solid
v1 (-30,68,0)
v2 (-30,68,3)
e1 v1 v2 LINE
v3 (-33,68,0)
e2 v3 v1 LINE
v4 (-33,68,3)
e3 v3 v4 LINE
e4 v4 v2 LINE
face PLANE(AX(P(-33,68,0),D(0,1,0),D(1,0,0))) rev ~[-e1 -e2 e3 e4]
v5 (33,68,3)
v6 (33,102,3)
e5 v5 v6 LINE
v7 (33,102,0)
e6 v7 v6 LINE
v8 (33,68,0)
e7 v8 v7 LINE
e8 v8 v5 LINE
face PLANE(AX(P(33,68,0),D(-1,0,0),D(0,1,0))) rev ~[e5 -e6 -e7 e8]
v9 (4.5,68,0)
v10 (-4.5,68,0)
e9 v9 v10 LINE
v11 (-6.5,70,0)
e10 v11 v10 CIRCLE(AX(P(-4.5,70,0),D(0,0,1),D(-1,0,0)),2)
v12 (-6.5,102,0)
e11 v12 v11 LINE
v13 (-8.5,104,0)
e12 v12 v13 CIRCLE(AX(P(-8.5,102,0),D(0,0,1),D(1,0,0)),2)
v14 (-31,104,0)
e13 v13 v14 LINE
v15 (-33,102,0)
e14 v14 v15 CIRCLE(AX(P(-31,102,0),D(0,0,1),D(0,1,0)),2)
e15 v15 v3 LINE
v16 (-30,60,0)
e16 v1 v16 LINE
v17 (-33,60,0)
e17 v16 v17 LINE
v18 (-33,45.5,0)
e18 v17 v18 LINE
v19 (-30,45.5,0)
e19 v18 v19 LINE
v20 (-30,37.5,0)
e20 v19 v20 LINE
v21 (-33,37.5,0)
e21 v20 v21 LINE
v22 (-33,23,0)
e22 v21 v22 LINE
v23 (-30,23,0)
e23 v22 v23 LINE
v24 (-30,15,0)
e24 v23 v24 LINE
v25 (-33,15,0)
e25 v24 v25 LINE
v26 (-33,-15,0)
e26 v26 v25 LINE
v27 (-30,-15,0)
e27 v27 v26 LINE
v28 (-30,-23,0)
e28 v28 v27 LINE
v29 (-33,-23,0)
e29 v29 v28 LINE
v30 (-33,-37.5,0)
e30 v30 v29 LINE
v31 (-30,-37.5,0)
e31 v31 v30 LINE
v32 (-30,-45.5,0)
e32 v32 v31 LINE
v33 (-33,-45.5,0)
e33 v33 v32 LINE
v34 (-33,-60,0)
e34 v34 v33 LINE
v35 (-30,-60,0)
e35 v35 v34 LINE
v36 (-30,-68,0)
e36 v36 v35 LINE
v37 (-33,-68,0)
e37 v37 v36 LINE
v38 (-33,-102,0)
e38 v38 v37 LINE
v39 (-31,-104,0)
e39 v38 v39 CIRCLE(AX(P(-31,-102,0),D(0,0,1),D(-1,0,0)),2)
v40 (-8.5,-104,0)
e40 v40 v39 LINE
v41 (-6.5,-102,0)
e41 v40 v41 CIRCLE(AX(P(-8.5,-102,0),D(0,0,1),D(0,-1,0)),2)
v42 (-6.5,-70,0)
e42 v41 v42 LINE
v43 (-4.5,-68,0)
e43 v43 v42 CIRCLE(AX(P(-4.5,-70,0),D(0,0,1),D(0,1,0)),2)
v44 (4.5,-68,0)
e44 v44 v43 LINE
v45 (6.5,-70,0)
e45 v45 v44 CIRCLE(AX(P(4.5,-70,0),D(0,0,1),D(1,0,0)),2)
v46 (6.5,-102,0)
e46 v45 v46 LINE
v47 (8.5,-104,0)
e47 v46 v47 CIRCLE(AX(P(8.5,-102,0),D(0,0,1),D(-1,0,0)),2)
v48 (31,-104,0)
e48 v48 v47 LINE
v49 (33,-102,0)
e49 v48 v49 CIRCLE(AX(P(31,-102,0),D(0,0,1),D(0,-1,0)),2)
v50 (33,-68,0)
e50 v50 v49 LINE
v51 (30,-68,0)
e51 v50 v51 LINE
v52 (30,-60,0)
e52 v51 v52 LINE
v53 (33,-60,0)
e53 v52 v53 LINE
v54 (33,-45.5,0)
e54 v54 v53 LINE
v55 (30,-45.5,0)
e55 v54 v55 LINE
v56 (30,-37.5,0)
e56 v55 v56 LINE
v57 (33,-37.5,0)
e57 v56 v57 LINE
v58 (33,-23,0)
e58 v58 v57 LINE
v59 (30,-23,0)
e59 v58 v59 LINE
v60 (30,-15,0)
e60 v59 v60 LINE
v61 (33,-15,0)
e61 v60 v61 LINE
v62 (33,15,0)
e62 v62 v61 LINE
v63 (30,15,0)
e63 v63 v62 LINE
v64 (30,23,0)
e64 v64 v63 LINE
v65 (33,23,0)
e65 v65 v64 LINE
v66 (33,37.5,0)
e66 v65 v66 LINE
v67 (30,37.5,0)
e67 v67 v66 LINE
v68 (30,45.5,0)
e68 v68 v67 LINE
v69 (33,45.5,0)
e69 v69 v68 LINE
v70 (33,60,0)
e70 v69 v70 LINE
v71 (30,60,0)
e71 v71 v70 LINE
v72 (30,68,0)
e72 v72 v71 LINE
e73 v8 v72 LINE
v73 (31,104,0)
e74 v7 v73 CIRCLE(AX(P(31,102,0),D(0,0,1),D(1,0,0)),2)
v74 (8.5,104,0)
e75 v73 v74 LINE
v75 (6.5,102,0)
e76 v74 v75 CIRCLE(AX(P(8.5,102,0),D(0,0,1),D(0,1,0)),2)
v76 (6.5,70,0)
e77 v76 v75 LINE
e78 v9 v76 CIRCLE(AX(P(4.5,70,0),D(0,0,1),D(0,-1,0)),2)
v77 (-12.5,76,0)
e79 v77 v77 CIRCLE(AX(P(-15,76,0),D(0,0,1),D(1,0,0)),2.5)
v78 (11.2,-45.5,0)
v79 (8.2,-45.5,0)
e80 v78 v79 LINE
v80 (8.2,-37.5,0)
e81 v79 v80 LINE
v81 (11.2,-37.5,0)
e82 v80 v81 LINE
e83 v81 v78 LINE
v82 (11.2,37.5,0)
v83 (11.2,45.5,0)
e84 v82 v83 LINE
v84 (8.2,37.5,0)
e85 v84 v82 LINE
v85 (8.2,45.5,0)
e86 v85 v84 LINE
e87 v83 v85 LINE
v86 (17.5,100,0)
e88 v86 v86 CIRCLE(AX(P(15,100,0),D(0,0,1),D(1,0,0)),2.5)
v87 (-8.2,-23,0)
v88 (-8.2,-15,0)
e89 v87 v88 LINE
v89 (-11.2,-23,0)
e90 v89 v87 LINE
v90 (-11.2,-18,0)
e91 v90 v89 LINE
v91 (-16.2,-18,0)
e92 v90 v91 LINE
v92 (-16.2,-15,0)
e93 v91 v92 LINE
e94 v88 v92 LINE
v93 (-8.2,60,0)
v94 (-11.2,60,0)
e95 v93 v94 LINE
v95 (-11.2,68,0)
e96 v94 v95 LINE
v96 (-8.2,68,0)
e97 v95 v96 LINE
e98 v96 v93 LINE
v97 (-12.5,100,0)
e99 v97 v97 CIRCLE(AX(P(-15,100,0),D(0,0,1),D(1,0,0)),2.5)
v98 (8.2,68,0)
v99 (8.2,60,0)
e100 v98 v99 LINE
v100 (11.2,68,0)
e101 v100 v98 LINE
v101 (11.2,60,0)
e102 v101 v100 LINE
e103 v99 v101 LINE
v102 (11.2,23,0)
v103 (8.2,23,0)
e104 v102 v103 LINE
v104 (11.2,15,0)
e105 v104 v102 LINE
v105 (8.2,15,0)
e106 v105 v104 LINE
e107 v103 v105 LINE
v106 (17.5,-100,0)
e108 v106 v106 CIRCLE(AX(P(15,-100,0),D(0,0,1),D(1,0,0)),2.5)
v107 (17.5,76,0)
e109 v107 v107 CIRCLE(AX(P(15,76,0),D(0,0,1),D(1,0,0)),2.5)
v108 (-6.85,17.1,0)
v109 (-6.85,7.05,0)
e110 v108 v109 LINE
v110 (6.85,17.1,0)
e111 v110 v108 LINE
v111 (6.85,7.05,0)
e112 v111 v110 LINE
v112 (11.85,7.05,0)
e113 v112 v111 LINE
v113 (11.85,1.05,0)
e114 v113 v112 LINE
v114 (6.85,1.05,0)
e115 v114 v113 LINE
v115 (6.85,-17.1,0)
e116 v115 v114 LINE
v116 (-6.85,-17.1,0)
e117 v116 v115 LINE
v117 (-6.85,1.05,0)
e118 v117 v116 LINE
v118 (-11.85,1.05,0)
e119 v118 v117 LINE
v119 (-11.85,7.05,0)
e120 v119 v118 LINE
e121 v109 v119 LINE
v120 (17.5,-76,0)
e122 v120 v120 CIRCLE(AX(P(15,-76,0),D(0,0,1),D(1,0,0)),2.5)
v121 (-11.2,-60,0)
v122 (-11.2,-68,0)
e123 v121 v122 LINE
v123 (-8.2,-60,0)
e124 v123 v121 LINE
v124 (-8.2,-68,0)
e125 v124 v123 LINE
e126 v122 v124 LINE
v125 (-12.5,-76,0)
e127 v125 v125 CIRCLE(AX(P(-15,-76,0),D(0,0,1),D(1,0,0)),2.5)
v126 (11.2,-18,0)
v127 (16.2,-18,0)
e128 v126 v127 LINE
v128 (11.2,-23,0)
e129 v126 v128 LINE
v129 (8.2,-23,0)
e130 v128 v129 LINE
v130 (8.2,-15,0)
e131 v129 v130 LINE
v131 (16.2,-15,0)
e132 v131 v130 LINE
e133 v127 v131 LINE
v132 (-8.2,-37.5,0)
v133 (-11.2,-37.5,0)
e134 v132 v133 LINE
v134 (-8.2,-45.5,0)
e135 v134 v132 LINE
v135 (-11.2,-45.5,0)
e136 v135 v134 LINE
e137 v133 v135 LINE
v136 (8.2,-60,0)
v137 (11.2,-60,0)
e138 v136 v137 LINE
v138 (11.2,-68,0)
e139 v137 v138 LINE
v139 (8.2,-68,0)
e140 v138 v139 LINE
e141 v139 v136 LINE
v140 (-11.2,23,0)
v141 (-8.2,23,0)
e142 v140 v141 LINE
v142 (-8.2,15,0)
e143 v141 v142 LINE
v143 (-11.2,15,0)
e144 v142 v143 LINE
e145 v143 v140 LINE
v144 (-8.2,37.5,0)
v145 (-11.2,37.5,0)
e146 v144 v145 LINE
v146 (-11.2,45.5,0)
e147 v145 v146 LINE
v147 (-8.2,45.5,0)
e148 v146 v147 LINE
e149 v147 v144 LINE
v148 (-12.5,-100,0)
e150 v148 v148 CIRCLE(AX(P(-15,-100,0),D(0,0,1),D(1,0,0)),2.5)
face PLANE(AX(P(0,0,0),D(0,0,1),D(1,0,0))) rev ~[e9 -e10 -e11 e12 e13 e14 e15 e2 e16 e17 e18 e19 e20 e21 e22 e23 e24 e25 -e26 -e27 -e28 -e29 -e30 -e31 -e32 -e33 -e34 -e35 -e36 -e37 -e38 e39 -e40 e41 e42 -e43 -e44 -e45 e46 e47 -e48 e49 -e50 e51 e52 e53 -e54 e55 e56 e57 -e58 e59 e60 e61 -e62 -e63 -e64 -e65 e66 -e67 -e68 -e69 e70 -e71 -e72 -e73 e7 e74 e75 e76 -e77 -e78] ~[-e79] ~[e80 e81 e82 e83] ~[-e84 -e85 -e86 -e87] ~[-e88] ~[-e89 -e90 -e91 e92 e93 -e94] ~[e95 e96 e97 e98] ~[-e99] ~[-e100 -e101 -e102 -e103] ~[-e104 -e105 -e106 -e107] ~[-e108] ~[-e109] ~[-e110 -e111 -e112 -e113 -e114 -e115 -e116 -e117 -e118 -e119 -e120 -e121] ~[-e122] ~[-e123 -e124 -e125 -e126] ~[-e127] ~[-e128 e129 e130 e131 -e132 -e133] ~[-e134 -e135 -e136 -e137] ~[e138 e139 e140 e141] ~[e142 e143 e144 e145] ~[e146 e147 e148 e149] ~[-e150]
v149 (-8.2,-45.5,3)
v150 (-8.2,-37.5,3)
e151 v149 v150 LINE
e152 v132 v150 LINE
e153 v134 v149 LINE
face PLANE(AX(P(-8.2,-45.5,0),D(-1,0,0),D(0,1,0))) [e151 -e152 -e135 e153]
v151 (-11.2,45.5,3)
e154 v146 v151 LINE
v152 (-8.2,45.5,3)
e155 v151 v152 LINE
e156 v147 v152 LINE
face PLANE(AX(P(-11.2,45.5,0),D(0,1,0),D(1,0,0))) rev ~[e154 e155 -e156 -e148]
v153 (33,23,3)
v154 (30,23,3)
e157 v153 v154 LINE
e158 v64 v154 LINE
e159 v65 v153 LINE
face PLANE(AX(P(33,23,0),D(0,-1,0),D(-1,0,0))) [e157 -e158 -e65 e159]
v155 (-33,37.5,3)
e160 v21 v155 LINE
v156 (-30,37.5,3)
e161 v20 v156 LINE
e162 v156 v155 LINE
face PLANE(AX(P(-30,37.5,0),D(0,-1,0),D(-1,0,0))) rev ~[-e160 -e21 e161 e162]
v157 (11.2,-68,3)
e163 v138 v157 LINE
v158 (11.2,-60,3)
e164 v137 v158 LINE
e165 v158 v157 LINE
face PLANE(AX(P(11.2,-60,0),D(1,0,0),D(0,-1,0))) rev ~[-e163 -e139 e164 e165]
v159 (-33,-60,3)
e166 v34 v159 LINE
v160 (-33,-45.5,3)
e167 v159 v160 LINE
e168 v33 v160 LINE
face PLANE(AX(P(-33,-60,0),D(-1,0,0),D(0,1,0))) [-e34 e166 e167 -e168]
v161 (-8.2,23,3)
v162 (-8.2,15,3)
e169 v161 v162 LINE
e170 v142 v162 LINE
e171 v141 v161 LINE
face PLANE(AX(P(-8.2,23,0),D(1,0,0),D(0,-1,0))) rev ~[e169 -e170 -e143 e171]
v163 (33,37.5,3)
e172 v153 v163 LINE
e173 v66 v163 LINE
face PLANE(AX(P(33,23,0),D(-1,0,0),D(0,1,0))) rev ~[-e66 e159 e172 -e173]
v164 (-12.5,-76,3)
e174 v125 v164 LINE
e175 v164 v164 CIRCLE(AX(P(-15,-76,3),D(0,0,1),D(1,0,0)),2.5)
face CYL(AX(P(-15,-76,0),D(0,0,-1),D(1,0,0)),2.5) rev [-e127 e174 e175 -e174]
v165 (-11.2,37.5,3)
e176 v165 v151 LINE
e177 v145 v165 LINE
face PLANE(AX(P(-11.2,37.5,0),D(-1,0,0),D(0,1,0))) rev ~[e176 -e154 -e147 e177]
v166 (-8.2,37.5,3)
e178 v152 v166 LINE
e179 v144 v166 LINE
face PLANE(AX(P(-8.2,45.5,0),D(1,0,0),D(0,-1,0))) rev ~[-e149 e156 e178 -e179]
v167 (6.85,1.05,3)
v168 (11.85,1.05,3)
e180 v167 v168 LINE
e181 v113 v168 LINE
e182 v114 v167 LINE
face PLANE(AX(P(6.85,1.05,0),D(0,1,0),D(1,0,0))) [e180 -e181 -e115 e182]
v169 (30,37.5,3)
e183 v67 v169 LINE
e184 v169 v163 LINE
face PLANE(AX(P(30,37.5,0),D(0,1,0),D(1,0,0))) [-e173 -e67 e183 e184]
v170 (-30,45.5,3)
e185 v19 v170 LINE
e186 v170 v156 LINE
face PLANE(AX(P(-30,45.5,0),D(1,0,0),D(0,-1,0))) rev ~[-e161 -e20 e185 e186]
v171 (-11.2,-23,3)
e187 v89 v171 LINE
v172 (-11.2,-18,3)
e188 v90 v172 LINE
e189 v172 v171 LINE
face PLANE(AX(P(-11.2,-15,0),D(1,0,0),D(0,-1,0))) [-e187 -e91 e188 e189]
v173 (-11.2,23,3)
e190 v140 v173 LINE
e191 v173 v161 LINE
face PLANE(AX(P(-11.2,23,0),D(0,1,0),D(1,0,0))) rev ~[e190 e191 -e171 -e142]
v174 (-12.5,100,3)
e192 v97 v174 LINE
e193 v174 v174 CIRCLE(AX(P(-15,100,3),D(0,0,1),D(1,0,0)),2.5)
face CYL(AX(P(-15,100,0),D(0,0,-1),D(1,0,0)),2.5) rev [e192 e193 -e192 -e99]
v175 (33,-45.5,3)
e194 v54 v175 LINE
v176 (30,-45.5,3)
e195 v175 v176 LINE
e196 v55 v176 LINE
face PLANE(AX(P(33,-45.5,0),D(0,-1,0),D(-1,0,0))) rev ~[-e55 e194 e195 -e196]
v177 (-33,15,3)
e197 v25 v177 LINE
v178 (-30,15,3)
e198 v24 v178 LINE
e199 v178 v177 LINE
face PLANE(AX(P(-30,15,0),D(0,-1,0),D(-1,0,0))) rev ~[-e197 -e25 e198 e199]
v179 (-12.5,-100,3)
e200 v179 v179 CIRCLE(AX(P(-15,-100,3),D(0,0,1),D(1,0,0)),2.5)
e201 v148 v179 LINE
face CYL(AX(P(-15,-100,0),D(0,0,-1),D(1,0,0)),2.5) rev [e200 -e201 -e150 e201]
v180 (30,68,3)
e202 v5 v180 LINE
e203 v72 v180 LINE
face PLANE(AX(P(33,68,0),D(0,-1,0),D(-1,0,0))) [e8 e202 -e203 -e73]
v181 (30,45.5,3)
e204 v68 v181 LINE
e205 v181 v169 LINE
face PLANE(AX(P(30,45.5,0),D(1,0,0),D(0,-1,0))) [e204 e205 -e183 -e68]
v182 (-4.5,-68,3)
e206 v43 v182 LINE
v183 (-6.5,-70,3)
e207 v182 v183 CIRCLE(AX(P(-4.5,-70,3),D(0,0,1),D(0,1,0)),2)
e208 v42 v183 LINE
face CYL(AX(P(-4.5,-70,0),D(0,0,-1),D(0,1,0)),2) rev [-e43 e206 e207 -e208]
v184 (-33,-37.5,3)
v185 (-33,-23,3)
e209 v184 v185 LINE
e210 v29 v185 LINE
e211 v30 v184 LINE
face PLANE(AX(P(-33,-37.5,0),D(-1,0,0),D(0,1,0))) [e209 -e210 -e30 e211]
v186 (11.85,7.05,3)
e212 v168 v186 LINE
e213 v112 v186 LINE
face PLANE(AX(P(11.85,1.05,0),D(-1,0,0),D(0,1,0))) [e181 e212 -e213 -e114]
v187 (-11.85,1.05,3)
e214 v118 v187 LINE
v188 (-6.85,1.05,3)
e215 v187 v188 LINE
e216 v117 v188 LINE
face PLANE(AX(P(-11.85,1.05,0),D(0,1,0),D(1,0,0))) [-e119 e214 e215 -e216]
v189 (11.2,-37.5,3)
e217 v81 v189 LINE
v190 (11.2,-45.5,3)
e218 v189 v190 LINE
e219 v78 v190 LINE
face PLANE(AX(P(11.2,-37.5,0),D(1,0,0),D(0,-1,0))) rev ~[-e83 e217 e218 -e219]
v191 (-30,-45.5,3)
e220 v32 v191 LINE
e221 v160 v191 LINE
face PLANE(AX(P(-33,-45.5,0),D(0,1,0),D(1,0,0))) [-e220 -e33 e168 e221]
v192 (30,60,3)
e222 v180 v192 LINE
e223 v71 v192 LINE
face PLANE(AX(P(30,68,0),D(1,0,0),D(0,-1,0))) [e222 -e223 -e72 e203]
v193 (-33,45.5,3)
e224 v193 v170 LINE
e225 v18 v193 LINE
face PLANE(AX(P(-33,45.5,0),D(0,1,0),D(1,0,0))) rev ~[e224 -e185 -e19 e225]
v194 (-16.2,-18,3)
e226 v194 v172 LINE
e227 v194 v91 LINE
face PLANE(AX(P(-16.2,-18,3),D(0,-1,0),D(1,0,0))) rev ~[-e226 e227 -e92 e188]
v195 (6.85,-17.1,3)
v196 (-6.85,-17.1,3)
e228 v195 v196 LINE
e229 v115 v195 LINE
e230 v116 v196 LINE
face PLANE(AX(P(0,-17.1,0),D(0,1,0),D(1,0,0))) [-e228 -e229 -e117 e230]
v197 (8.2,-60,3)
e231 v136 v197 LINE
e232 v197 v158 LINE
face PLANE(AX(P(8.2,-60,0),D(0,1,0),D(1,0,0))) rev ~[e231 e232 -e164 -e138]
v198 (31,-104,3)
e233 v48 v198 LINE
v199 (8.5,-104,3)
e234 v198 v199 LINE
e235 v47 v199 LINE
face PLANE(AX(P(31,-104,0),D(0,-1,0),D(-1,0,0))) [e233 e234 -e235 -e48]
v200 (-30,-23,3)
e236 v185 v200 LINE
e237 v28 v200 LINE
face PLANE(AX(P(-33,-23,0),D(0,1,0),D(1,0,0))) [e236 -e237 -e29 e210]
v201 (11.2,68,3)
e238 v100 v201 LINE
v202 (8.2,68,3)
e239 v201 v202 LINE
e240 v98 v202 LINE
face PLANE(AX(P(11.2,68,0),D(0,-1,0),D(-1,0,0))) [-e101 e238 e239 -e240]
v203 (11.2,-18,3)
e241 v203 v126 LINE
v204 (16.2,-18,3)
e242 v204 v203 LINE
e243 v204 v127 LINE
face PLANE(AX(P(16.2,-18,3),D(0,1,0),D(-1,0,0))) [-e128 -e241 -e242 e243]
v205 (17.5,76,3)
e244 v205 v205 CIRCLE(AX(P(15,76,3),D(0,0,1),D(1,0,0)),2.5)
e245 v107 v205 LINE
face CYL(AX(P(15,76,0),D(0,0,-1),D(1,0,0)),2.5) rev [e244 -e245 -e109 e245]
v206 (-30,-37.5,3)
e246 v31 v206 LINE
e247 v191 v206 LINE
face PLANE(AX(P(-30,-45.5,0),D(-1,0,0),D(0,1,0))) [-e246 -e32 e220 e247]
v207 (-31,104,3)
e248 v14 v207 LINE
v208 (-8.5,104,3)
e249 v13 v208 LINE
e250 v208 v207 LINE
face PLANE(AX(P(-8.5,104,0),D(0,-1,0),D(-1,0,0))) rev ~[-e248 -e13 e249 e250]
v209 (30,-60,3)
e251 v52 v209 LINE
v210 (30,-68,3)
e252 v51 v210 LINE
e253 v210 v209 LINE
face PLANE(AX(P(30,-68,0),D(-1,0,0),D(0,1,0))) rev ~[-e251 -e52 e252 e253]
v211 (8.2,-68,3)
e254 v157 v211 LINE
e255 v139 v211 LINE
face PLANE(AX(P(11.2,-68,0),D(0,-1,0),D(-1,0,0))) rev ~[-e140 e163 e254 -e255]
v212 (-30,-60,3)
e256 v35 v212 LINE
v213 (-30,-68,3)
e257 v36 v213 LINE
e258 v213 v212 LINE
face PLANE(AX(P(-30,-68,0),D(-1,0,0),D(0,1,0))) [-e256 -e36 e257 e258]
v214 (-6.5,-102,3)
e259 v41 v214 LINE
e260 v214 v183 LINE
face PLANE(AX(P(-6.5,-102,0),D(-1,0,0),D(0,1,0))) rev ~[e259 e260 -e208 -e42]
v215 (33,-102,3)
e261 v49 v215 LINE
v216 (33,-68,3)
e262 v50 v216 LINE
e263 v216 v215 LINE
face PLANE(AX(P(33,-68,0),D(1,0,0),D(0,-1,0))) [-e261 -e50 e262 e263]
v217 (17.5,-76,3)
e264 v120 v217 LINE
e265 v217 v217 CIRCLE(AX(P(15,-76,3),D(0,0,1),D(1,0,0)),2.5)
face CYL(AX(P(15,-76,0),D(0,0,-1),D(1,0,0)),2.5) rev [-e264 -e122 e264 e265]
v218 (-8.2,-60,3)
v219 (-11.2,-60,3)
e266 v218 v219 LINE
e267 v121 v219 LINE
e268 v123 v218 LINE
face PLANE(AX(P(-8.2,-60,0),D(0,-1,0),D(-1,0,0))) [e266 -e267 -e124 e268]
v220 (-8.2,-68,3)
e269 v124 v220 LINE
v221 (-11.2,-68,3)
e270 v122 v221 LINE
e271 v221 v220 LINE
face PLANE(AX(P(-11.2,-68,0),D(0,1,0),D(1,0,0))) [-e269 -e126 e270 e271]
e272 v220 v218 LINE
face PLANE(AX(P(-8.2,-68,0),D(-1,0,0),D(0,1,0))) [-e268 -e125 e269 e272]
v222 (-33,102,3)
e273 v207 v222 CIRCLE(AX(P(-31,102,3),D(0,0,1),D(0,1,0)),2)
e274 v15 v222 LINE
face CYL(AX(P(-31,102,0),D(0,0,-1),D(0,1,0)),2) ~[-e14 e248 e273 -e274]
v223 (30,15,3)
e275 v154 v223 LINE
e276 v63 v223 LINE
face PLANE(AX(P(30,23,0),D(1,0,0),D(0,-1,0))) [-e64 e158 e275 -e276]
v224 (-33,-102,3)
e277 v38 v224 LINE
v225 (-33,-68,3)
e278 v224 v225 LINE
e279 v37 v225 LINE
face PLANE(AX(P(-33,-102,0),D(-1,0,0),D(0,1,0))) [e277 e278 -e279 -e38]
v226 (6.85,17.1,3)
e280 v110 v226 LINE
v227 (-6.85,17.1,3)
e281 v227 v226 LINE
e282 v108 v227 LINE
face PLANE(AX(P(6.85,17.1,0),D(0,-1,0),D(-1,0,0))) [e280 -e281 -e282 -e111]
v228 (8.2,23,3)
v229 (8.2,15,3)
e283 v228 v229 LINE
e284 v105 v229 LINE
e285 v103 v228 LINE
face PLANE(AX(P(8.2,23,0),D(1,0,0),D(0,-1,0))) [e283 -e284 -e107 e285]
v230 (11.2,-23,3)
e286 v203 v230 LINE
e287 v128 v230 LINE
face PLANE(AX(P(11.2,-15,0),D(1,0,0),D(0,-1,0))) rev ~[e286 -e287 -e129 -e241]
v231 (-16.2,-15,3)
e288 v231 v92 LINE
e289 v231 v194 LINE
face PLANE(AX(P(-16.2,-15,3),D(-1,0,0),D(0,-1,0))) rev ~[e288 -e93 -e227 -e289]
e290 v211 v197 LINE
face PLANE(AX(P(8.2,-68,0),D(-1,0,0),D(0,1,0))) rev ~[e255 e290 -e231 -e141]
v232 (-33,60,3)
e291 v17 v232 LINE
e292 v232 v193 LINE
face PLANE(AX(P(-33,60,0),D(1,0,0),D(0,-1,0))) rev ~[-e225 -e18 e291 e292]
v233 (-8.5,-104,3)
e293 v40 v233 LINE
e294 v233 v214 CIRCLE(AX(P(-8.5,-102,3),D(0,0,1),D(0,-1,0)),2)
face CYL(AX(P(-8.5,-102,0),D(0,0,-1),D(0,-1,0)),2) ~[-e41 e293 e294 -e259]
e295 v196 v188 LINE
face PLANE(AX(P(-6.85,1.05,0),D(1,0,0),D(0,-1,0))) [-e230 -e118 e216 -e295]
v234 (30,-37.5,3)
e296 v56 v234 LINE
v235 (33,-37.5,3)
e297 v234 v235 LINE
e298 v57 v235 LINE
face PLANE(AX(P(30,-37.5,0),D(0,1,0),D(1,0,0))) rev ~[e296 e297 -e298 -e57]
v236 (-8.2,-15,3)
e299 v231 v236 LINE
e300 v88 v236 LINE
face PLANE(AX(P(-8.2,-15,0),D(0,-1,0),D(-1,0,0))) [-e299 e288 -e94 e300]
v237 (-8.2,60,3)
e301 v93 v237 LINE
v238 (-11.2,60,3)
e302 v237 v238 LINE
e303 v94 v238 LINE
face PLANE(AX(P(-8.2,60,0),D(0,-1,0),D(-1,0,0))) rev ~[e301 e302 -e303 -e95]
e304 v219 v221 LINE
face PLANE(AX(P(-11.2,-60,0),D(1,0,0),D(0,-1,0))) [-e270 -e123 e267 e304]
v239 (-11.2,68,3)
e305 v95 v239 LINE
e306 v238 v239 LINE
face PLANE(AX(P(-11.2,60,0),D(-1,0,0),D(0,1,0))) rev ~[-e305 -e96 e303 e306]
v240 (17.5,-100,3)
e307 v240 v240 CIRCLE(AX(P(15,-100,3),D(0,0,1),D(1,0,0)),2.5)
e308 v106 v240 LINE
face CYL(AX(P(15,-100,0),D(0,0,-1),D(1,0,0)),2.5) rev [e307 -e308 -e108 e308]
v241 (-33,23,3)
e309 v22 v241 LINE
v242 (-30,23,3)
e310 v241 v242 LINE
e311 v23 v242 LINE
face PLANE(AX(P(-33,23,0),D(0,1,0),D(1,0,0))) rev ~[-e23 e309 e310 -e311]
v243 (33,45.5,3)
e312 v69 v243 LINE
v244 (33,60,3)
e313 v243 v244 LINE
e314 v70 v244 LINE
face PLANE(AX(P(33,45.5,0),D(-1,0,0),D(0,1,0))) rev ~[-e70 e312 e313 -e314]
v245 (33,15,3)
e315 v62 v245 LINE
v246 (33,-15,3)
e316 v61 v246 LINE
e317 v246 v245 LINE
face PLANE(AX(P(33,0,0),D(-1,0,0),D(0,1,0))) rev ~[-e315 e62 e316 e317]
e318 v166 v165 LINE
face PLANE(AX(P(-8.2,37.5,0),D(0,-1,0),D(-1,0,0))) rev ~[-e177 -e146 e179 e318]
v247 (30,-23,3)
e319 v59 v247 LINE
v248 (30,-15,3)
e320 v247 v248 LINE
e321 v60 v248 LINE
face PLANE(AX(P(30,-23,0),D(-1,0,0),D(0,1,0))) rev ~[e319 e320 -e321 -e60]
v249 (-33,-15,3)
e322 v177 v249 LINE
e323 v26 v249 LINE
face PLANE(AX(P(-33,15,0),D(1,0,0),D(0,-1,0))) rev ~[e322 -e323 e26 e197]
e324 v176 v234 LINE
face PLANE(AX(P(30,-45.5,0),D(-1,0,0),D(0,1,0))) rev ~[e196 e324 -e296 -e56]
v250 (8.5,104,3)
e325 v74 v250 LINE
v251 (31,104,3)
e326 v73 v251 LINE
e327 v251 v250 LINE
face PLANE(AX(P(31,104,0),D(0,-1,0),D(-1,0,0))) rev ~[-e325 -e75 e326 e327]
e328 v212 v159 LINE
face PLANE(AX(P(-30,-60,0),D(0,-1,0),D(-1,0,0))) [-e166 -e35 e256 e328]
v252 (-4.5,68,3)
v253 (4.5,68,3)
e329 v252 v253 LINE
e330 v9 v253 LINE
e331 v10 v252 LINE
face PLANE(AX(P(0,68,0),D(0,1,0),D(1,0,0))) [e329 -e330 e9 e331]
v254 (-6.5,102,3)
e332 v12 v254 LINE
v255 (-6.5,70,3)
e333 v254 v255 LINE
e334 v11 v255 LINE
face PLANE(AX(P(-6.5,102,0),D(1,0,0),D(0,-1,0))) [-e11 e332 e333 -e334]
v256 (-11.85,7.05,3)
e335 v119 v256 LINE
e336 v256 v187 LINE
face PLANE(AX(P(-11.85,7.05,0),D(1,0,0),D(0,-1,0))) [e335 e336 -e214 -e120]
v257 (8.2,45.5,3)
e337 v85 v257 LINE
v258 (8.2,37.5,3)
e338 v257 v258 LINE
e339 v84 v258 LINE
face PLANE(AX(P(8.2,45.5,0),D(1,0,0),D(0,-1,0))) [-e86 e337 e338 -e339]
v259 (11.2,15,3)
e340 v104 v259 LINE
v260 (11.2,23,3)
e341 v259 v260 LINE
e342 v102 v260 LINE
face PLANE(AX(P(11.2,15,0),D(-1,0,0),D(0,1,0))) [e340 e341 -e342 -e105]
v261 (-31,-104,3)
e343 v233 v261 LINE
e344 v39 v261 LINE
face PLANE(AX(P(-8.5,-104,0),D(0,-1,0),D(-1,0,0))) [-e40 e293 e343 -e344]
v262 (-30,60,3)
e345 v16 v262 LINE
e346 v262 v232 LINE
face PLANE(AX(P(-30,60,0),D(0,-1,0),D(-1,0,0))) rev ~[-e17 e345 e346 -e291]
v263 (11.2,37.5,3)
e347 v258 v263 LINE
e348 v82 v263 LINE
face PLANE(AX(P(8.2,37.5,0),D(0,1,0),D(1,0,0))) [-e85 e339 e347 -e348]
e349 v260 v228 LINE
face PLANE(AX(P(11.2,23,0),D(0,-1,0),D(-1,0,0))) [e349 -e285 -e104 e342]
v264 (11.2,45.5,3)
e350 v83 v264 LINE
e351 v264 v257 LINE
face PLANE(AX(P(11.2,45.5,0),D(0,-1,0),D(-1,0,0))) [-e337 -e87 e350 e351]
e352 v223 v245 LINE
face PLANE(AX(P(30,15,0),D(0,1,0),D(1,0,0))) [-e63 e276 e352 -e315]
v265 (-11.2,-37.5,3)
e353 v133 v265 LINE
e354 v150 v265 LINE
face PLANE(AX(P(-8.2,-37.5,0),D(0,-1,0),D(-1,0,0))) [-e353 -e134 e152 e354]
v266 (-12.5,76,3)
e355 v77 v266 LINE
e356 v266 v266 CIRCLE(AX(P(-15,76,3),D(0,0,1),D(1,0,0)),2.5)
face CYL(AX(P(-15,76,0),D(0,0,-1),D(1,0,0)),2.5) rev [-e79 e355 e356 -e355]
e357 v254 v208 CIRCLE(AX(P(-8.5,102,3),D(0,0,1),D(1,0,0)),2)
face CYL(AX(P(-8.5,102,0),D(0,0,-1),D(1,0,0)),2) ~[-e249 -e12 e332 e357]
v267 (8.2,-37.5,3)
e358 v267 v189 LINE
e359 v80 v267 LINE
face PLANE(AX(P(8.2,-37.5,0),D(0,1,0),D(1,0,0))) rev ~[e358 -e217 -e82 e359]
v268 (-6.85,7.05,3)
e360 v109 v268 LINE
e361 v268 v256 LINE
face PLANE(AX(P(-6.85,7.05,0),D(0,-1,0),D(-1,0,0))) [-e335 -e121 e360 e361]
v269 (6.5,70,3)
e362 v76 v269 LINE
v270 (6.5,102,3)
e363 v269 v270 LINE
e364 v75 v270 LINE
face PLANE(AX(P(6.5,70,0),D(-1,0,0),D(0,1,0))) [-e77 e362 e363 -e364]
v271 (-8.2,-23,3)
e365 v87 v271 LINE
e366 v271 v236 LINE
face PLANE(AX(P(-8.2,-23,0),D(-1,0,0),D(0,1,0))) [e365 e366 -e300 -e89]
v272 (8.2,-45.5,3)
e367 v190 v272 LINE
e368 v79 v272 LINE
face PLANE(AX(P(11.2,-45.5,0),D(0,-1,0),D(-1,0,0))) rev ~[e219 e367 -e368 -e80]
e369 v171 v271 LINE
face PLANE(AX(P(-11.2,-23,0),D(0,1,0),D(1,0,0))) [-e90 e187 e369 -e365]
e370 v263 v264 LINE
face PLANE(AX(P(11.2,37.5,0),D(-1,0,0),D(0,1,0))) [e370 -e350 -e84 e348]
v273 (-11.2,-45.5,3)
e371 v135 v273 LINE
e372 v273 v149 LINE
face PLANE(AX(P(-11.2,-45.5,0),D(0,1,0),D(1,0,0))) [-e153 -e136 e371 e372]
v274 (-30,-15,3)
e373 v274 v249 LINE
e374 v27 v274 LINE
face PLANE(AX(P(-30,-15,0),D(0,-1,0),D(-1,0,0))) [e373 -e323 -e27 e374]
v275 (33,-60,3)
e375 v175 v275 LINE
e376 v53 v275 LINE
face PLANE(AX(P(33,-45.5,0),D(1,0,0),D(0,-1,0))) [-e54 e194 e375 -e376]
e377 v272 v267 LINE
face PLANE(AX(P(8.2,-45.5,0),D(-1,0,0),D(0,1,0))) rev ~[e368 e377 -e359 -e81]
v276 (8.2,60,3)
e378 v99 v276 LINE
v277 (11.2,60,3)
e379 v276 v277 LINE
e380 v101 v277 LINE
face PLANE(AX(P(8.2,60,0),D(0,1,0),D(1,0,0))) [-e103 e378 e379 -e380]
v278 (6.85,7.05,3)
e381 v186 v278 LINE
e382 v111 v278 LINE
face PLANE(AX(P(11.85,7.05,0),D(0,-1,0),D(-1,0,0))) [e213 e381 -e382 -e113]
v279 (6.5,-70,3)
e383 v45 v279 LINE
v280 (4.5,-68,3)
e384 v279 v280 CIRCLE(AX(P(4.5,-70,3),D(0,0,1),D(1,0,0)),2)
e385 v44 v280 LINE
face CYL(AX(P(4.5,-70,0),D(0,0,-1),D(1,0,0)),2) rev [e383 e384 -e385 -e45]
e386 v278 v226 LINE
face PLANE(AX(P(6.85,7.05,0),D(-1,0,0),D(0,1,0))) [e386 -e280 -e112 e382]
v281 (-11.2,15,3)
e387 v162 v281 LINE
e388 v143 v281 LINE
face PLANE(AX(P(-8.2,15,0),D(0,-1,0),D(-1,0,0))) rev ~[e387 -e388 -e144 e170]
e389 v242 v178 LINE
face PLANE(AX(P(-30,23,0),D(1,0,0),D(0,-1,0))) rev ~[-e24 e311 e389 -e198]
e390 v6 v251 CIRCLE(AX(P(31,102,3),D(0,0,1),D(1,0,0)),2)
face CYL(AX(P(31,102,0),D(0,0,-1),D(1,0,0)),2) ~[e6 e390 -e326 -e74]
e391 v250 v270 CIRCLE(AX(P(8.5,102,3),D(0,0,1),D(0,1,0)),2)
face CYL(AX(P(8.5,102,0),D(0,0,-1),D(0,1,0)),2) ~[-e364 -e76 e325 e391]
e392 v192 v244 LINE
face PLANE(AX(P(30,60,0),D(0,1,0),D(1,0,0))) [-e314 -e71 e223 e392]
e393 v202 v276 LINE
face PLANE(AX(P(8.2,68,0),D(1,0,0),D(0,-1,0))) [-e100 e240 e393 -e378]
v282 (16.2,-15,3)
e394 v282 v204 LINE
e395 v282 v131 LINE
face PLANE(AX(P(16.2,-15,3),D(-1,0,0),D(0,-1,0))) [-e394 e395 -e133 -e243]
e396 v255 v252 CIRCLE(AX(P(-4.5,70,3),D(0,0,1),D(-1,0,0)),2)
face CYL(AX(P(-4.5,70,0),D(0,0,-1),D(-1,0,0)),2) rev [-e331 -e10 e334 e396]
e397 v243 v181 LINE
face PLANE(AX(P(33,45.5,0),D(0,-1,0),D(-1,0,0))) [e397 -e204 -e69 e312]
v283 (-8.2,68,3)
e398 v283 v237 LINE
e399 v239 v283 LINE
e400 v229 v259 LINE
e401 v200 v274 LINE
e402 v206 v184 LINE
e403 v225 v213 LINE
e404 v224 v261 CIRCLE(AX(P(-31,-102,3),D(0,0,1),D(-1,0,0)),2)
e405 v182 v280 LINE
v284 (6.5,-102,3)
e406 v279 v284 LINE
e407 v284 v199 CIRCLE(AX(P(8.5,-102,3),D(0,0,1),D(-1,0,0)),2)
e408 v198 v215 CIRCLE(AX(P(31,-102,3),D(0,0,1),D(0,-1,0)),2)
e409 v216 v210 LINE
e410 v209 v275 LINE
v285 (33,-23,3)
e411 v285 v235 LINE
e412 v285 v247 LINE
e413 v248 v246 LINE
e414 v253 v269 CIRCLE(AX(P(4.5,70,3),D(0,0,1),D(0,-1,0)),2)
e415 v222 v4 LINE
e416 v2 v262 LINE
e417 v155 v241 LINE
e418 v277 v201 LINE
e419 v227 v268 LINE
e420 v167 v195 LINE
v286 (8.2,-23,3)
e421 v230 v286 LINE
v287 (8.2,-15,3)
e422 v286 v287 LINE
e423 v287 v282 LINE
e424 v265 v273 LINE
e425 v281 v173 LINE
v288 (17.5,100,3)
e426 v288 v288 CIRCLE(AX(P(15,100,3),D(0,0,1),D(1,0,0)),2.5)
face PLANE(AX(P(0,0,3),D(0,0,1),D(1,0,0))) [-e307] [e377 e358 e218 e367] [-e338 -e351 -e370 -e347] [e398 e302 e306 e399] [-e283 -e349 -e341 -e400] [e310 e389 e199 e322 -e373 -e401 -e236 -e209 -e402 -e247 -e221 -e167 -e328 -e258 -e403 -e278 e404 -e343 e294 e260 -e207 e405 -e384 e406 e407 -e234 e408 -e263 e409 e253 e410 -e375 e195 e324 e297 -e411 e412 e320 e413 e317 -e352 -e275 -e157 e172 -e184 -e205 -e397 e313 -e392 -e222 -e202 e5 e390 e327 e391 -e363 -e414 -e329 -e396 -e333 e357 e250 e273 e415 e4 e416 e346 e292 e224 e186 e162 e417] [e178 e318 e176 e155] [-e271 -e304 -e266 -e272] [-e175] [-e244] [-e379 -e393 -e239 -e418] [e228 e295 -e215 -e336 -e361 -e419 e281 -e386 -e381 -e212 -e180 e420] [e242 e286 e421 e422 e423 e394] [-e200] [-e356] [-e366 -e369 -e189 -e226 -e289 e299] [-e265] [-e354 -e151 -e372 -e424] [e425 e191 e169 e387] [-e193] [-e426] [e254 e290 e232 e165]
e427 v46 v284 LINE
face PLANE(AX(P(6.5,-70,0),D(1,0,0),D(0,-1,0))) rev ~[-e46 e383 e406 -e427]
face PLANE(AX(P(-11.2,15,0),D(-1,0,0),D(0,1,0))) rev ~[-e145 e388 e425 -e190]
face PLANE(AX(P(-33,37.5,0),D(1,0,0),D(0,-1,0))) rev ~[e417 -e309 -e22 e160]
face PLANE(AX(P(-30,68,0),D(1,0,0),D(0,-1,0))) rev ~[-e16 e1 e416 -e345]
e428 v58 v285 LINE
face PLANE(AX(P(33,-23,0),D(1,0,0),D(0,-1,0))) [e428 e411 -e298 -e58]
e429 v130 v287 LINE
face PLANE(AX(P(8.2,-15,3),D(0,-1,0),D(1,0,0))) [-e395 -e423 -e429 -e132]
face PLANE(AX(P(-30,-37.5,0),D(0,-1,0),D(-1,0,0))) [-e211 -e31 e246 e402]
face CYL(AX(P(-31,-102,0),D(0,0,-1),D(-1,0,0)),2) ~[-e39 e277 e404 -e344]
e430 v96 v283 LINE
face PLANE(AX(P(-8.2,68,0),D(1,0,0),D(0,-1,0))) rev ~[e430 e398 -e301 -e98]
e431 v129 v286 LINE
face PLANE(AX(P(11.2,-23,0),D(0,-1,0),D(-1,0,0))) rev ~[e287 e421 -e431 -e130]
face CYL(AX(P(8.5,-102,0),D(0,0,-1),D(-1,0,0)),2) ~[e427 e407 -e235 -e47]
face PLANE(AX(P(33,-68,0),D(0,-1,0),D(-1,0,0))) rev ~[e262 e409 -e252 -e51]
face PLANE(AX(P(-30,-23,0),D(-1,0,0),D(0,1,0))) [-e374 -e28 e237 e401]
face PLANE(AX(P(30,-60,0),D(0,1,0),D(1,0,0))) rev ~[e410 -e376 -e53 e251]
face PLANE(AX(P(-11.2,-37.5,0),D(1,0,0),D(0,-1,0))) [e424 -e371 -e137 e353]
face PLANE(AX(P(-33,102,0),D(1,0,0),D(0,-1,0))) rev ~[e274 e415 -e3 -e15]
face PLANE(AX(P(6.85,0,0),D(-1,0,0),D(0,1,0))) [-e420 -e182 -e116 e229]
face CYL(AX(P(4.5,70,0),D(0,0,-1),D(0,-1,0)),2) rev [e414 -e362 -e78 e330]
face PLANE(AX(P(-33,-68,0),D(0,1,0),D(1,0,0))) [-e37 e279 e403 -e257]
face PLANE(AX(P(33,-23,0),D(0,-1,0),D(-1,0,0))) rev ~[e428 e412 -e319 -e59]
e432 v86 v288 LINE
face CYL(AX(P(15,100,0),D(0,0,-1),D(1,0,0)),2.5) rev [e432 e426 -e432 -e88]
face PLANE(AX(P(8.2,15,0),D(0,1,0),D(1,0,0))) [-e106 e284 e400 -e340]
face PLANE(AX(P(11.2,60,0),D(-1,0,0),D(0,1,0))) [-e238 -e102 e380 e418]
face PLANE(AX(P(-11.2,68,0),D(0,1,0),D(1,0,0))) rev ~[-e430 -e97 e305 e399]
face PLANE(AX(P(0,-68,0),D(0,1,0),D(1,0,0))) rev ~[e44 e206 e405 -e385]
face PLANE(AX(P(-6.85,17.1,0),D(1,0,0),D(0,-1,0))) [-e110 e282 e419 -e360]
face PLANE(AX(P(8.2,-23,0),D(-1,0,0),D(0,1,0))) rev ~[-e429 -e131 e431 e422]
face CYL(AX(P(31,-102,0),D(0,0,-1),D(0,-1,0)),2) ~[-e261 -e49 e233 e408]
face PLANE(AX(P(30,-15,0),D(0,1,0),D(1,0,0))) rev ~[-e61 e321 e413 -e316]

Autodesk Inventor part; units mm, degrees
ref_plane "YZ Plane" through (0, 0, 0) normal (1, 0, 0) x (0, 1, 0)
ref_plane "XZ Plane" through (0, 0, 0) normal (0, 1, 0) x (-1, 0, 0)
ref_plane "XY Plane" through (0, 0, 0) normal (0, 0, 1) x (1, 0, 0)
sketch "草圖1" plane through (0, 0, 0) normal (0, 0, 1) x (1, 0, 0)
  line L0 (-33, -104) -> (33, 104) construction
  line L1 (33, -104) -> (-33, 104) construction
  line L2 (0, 128.5379) -> (0, -160.5456)
  circle A0 centre (-15, 100) radius 2.5
  circle A1 centre (15, 100) radius 2.5
  circle A2 centre (15, 76) radius 2.5
  circle A3 centre (-15, 76) radius 2.5
  line L3 (-33, 68) -> (-30, 68)
  line L4 (-30, 68) -> (-30, 60)
  line L5 (-30, 60) -> (-33, 60)
  line L6 (-33, 102) -> (-33, 68)
  line L7 (-11.2, 68) -> (-8.2, 68)
  line L8 (-8.2, 68) -> (-8.2, 60)
  line L9 (-8.2, 60) -> (-11.2, 60)
  line L10 (-11.2, 60) -> (-11.2, 68)
  line L11 (33, 68) -> (30, 68)
  line L12 (30, 68) -> (30, 60)
  line L13 (30, 60) -> (33, 60)
  line L14 (11.2, 68) -> (8.2, 68)
  line L15 (8.2, 68) -> (8.2, 60)
  line L16 (8.2, 60) -> (11.2, 60)
  line L17 (11.2, 60) -> (11.2, 68)
  line L18 (33, 68) -> (33, 102)
  line L19 (8.2, 45.5) -> (8.2, 37.5)
  line L20 (8.2, 37.5) -> (11.2, 37.5)
  line L21 (11.2, 45.5) -> (8.2, 45.5)
  line L22 (11.2, 37.5) -> (11.2, 45.5)
  line L23 (30, 45.5) -> (30, 37.5)
  line L24 (30, 37.5) -> (33, 37.5)
  line L25 (33, 45.5) -> (30, 45.5)
  line L26 (-8.2, 45.5) -> (-8.2, 37.5)
  line L27 (-8.2, 37.5) -> (-11.2, 37.5)
  line L28 (-11.2, 45.5) -> (-8.2, 45.5)
  line L29 (-11.2, 37.5) -> (-11.2, 45.5)
  line L30 (-30, 45.5) -> (-30, 37.5)
  line L31 (-33, 45.5) -> (-30, 45.5)
  line L32 (-30, 37.5) -> (-33, 37.5)
  line L33 (8.2, 23) -> (8.2, 15)
  line L34 (8.2, 15) -> (11.2, 15)
  line L35 (11.2, 23) -> (8.2, 23)
  line L36 (11.2, 15) -> (11.2, 23)
  line L37 (30, 23) -> (30, 15)
  line L38 (30, 15) -> (33, 15)
  line L39 (33, 23) -> (30, 23)
  line L40 (-8.2, 23) -> (-8.2, 15)
  line L41 (-8.2, 15) -> (-11.2, 15)
  line L42 (-11.2, 23) -> (-8.2, 23)
  line L43 (-11.2, 15) -> (-11.2, 23)
  line L44 (-30, 23) -> (-30, 15)
  line L45 (-33, 23) -> (-30, 23)
  line L46 (-30, 15) -> (-33, 15)
  line L47 (-33, 60) -> (-33, 45.5)
  line L48 (-33, 37.5) -> (-33, 23)
  line L49 (33, 23) -> (33, 37.5)
  line L50 (33, 45.5) -> (33, 60)
  line L51 (-4.5, 68) -> (4.5, 68)
  line L52 (6.5, 70) -> (6.5, 102)
  line L53 (-6.5, 102) -> (-6.5, 70)
  line L54 (-6.5, 68) -> (6.5, 104) construction
  line L55 (6.5, 68) -> (-6.5, 104) construction
  line L56 (31, 104) -> (8.5, 104)
  line L57 (-8.5, 104) -> (-31, 104)
  arc A4 (-6.5, 102) -> (-8.5, 104) centre (-8.5, 102) ccw
  arc A5 (8.5, 104) -> (6.5, 102) centre (8.5, 102) ccw
  arc A6 (-6.5, 70) -> (-4.5, 68) centre (-4.5, 70) ccw
  arc A7 (4.5, 68) -> (6.5, 70) centre (4.5, 70) ccw
  arc A8 (-31, 104) -> (-33, 102) centre (-31, 102) ccw
  arc A9 (33, 102) -> (31, 104) centre (31, 102) ccw
  line L58 (-83.0249, 0) -> (86.2934, 0)
  circle A10 centre (-15, -100) radius 2.5
  circle A11 centre (15, -100) radius 2.5
  circle A12 centre (15, -76) radius 2.5
  circle A13 centre (-15, -76) radius 2.5
  line L59 (-33, -68) -> (-30, -68)
  line L60 (-30, -68) -> (-30, -60)
  line L61 (-30, -60) -> (-33, -60)
  line L62 (-33, -102) -> (-33, -68)
  line L63 (-11.2, -68) -> (-8.2, -68)
  line L64 (-8.2, -68) -> (-8.2, -60)
  line L65 (-8.2, -60) -> (-11.2, -60)
  line L66 (-11.2, -60) -> (-11.2, -68)
  line L67 (33, -68) -> (30, -68)
  line L68 (30, -68) -> (30, -60)
  line L69 (30, -60) -> (33, -60)
  line L70 (8.2, -60) -> (11.2, -60)
  line L71 (11.2, -60) -> (11.2, -68)
  line L72 (8.2, -68) -> (8.2, -60)
  line L73 (11.2, -68) -> (8.2, -68)
  line L74 (33, -68) -> (33, -102)
  line L75 (8.2, -45.5) -> (8.2, -37.5)
  line L76 (8.2, -37.5) -> (11.2, -37.5)
  line L77 (11.2, -45.5) -> (8.2, -45.5)
  line L78 (11.2, -37.5) -> (11.2, -45.5)
  line L79 (30, -45.5) -> (30, -37.5)
  line L80 (30, -37.5) -> (33, -37.5)
  line L81 (33, -45.5) -> (30, -45.5)
  line L82 (-8.2, -45.5) -> (-8.2, -37.5)
  line L83 (-8.2, -37.5) -> (-11.2, -37.5)
  line L84 (-11.2, -45.5) -> (-8.2, -45.5)
  line L85 (-11.2, -37.5) -> (-11.2, -45.5)
  line L86 (-30, -45.5) -> (-30, -37.5)
  line L87 (-33, -45.5) -> (-30, -45.5)
  line L88 (-30, -37.5) -> (-33, -37.5)
  line L89 (8.2, -23) -> (8.2, -15)
  line L90 (8.2, -15) -> (11.2, -15)
  line L91 (11.2, -23) -> (8.2, -23)
  line L92 (11.2, -15) -> (11.2, -23)
  line L93 (30, -23) -> (30, -15)
  line L94 (30, -15) -> (33, -15)
  line L95 (33, -23) -> (30, -23)
  line L96 (-8.2, -23) -> (-8.2, -15)
  line L97 (-8.2, -15) -> (-11.2, -15)
  line L98 (-11.2, -23) -> (-8.2, -23)
  line L99 (-11.2, -15) -> (-11.2, -23)
  line L100 (-30, -23) -> (-30, -15)
  line L101 (-33, -23) -> (-30, -23)
  line L102 (-30, -15) -> (-33, -15)
  line L103 (-33, -60) -> (-33, -45.5)
  line L104 (-33, -37.5) -> (-33, -23)
  line L105 (33, -23) -> (33, -37.5)
  line L106 (33, -45.5) -> (33, -60)
  line L107 (-4.5, -68) -> (4.5, -68)
  line L108 (6.5, -70) -> (6.5, -102)
  line L109 (-6.5, -102) -> (-6.5, -70)
  line L110 (-6.5, -68) -> (6.5, -104) construction
  line L111 (6.5, -68) -> (-6.5, -104) construction
  line L112 (31, -104) -> (8.5, -104)
  line L113 (-8.5, -104) -> (-31, -104)
  arc A14 (-8.5, -104) -> (-6.5, -102) centre (-8.5, -102) ccw
  arc A15 (6.5, -102) -> (8.5, -104) centre (8.5, -102) ccw
  arc A16 (-4.5, -68) -> (-6.5, -70) centre (-4.5, -70) ccw
  arc A17 (6.5, -70) -> (4.5, -68) centre (4.5, -70) ccw
  arc A18 (-33, -102) -> (-31, -104) centre (-31, -102) ccw
  arc A19 (31, -104) -> (33, -102) centre (31, -102) ccw
  line L114 (-31, -104) -> (-8.5, -104)
  line L115 (8.5, -104) -> (31, -104)
  line L116 (-6.85, -17.1) -> (6.85, -17.1)
  line L117 (6.85, 17.1) -> (-6.85, 17.1)
  line L118 (-6.85, -17.1) -> (6.85, 17.1) construction
  line L119 (6.85, -17.1) -> (-6.85, 17.1) construction
  line L120 (11.85, 1.05) -> (11.85, 7.05)
  line L121 (-11.85, 7.05) -> (-11.85, 1.05)
  line L122 (-11.85, 1.05) -> (11.85, 7.05) construction
  line L123 (11.85, 1.05) -> (-11.85, 7.05) construction
  line L124 (-6.85, 17.1) -> (-6.85, 7.05)
  line L125 (-6.85, 1.05) -> (-6.85, -17.1)
  line L126 (6.85, -17.1) -> (6.85, 1.05)
  line L127 (6.85, 7.05) -> (6.85, 17.1)
  line L128 (11.85, 7.05) -> (6.85, 7.05)
  line L129 (6.85, 1.05) -> (11.85, 1.05)
  line L130 (-11.85, 1.05) -> (-6.85, 1.05)
  line L131 (-6.85, 7.05) -> (-11.85, 7.05)
  line L132 (-33, 15) -> (-33, -15)
  line L133 (-33, -23) -> (-33, -37.5)
  line L134 (-33, -45.5) -> (-33, -60)
  line L135 (-33, -68) -> (-33, -102)
  line L136 (33, -102) -> (33, -68)
  line L137 (33, -60) -> (33, -45.5)
  line L138 (33, -37.5) -> (33, -23)
  line L139 (33, -15) -> (33, 15)
  line L140 (-65.8128, 14.982) -> (72.6132, 14.982) construction
  point P0 (0, 0)
  point P1 (0, 86.5078)
  point P2 (0, 86)
  point P3 (0, -86.5078)
  point P4 (0, -86)
  point P5 (0, 4.05)
  point P6 (11.85, 4.05)
  point P7 (-6.5, -86)
  point P8 (6.5, -86)
  dimension "d0" = 66
  dimension "d1" = 208
  dimension "d6" = 5
  dimension "d8" = 30
  dimension "d9" = 24
  dimension "d10" = 3
  dimension "d11" = 8
  dimension "d12" = 8
  dimension "d13" = 3
  dimension "d14" = 18.8
  dimension "d17" = 22.5
  dimension "d22" = 13
  dimension "d23" = 4
  dimension "d24" = 2
  dimension "d25" = 2
  dimension "d26" = 34.2
  dimension "d27" = 13.7
  dimension "d28" = 6
  dimension "d30" = 23.7
  dimension "d31" = 10.05
  dimension "d37" = 2.118
  dimension "d38" = -0.018
  dimension "d51" = 13
extrude "擠出1" add sketch "草圖1" along normal blind 3 contours L51 A7 L52 A5 L56 A9 L18 L11 L12 L13 L50 L25 L23 L24 L49 L39 L37 L38 L139 L58 L126 L129 L120 L128 L127 L117 L2 | L2 L117 L124 L131 L121 L130 L125 L58 L132 L46 L44 L45 L48 L32 L30 L31 L47 L5 L4 L3 L6 A8 L57 A4 L53 A6 L51 | L116 L126 L58 L139 L94 L93 L95 L105 L80 L79 L81 L106 L69 L68 L67 L74 A19 L112 A15 L108 A17 L107 L2 | L2 L107 A16 L109 A14 L113 A18 L62 L59 L60 L61 L103 L87 L86 L88 L104 L101 L100 L102 L132 L58 L125 L116
sketch "草圖3" plane through (0, 0, 3) normal (0, 0, 1) x (1, 0, 0)
  line L0 (-88.1264, 0) -> (75.7938, 0)
  line L1 (0, 123.8394) -> (0, -129.4918)
  point P0 (0, 0)
sketch "草圖4" plane through (0, 0, 3) normal (0, 0, 1) x (1, 0, 0)
  line L0 (-8.2, -15) -> (-8.2, -23) projected
  line L1 (-8.2, -15) -> (-16.2, -15)
  line L2 (-16.2, -15) -> (-16.2, -18)
  line L3 (-16.2, -18) -> (-8.2, -18)
  line L4 (-8.2, -18) -> (-8.2, -15)
  line L5 (-8.2, -23) -> (-11.2, -23) projected
  line L6 (8.2, -15) -> (11.2, -15) projected
  line L7 (8.2, -15) -> (16.2, -15)
  line L8 (16.2, -15) -> (16.2, -18)
  line L9 (16.2, -18) -> (8.2, -18)
  line L10 (8.2, -18) -> (8.2, -15)
  line L11 (0, 7.3237) -> (0, -15)
  line L12 (-33, 37.5) -> (-33, 23) projected
  line L13 (-33, 30.25) -> (33, 30.25)
  line L14 (33, 30.25) -> (33, 104)
  line L15 (33, 104) -> (-33, 104)
  line L16 (-33, 104) -> (-33, 30.25)
  line L17 (31, 104) -> (8.5, 104) projected
  line L18 (33, 68) -> (33, 102) projected
  line L19 (-4.9978, 0) -> (4.9668, 0)
  line L20 (-33, -30.25) -> (33, -30.25)
  line L21 (33, -30.25) -> (33, -104)
  line L22 (33, -104) -> (-33, -104)
  line L23 (-33, -104) -> (-33, -30.25)
  point P0 (0, 0)
extrude "擠出3" cut sketch "草圖4" against normal up to next contours L0 L3 L2 L1 | L6 L7 L8 L9 L10
properties part number "main_frame" material "木材 (楓木)"
